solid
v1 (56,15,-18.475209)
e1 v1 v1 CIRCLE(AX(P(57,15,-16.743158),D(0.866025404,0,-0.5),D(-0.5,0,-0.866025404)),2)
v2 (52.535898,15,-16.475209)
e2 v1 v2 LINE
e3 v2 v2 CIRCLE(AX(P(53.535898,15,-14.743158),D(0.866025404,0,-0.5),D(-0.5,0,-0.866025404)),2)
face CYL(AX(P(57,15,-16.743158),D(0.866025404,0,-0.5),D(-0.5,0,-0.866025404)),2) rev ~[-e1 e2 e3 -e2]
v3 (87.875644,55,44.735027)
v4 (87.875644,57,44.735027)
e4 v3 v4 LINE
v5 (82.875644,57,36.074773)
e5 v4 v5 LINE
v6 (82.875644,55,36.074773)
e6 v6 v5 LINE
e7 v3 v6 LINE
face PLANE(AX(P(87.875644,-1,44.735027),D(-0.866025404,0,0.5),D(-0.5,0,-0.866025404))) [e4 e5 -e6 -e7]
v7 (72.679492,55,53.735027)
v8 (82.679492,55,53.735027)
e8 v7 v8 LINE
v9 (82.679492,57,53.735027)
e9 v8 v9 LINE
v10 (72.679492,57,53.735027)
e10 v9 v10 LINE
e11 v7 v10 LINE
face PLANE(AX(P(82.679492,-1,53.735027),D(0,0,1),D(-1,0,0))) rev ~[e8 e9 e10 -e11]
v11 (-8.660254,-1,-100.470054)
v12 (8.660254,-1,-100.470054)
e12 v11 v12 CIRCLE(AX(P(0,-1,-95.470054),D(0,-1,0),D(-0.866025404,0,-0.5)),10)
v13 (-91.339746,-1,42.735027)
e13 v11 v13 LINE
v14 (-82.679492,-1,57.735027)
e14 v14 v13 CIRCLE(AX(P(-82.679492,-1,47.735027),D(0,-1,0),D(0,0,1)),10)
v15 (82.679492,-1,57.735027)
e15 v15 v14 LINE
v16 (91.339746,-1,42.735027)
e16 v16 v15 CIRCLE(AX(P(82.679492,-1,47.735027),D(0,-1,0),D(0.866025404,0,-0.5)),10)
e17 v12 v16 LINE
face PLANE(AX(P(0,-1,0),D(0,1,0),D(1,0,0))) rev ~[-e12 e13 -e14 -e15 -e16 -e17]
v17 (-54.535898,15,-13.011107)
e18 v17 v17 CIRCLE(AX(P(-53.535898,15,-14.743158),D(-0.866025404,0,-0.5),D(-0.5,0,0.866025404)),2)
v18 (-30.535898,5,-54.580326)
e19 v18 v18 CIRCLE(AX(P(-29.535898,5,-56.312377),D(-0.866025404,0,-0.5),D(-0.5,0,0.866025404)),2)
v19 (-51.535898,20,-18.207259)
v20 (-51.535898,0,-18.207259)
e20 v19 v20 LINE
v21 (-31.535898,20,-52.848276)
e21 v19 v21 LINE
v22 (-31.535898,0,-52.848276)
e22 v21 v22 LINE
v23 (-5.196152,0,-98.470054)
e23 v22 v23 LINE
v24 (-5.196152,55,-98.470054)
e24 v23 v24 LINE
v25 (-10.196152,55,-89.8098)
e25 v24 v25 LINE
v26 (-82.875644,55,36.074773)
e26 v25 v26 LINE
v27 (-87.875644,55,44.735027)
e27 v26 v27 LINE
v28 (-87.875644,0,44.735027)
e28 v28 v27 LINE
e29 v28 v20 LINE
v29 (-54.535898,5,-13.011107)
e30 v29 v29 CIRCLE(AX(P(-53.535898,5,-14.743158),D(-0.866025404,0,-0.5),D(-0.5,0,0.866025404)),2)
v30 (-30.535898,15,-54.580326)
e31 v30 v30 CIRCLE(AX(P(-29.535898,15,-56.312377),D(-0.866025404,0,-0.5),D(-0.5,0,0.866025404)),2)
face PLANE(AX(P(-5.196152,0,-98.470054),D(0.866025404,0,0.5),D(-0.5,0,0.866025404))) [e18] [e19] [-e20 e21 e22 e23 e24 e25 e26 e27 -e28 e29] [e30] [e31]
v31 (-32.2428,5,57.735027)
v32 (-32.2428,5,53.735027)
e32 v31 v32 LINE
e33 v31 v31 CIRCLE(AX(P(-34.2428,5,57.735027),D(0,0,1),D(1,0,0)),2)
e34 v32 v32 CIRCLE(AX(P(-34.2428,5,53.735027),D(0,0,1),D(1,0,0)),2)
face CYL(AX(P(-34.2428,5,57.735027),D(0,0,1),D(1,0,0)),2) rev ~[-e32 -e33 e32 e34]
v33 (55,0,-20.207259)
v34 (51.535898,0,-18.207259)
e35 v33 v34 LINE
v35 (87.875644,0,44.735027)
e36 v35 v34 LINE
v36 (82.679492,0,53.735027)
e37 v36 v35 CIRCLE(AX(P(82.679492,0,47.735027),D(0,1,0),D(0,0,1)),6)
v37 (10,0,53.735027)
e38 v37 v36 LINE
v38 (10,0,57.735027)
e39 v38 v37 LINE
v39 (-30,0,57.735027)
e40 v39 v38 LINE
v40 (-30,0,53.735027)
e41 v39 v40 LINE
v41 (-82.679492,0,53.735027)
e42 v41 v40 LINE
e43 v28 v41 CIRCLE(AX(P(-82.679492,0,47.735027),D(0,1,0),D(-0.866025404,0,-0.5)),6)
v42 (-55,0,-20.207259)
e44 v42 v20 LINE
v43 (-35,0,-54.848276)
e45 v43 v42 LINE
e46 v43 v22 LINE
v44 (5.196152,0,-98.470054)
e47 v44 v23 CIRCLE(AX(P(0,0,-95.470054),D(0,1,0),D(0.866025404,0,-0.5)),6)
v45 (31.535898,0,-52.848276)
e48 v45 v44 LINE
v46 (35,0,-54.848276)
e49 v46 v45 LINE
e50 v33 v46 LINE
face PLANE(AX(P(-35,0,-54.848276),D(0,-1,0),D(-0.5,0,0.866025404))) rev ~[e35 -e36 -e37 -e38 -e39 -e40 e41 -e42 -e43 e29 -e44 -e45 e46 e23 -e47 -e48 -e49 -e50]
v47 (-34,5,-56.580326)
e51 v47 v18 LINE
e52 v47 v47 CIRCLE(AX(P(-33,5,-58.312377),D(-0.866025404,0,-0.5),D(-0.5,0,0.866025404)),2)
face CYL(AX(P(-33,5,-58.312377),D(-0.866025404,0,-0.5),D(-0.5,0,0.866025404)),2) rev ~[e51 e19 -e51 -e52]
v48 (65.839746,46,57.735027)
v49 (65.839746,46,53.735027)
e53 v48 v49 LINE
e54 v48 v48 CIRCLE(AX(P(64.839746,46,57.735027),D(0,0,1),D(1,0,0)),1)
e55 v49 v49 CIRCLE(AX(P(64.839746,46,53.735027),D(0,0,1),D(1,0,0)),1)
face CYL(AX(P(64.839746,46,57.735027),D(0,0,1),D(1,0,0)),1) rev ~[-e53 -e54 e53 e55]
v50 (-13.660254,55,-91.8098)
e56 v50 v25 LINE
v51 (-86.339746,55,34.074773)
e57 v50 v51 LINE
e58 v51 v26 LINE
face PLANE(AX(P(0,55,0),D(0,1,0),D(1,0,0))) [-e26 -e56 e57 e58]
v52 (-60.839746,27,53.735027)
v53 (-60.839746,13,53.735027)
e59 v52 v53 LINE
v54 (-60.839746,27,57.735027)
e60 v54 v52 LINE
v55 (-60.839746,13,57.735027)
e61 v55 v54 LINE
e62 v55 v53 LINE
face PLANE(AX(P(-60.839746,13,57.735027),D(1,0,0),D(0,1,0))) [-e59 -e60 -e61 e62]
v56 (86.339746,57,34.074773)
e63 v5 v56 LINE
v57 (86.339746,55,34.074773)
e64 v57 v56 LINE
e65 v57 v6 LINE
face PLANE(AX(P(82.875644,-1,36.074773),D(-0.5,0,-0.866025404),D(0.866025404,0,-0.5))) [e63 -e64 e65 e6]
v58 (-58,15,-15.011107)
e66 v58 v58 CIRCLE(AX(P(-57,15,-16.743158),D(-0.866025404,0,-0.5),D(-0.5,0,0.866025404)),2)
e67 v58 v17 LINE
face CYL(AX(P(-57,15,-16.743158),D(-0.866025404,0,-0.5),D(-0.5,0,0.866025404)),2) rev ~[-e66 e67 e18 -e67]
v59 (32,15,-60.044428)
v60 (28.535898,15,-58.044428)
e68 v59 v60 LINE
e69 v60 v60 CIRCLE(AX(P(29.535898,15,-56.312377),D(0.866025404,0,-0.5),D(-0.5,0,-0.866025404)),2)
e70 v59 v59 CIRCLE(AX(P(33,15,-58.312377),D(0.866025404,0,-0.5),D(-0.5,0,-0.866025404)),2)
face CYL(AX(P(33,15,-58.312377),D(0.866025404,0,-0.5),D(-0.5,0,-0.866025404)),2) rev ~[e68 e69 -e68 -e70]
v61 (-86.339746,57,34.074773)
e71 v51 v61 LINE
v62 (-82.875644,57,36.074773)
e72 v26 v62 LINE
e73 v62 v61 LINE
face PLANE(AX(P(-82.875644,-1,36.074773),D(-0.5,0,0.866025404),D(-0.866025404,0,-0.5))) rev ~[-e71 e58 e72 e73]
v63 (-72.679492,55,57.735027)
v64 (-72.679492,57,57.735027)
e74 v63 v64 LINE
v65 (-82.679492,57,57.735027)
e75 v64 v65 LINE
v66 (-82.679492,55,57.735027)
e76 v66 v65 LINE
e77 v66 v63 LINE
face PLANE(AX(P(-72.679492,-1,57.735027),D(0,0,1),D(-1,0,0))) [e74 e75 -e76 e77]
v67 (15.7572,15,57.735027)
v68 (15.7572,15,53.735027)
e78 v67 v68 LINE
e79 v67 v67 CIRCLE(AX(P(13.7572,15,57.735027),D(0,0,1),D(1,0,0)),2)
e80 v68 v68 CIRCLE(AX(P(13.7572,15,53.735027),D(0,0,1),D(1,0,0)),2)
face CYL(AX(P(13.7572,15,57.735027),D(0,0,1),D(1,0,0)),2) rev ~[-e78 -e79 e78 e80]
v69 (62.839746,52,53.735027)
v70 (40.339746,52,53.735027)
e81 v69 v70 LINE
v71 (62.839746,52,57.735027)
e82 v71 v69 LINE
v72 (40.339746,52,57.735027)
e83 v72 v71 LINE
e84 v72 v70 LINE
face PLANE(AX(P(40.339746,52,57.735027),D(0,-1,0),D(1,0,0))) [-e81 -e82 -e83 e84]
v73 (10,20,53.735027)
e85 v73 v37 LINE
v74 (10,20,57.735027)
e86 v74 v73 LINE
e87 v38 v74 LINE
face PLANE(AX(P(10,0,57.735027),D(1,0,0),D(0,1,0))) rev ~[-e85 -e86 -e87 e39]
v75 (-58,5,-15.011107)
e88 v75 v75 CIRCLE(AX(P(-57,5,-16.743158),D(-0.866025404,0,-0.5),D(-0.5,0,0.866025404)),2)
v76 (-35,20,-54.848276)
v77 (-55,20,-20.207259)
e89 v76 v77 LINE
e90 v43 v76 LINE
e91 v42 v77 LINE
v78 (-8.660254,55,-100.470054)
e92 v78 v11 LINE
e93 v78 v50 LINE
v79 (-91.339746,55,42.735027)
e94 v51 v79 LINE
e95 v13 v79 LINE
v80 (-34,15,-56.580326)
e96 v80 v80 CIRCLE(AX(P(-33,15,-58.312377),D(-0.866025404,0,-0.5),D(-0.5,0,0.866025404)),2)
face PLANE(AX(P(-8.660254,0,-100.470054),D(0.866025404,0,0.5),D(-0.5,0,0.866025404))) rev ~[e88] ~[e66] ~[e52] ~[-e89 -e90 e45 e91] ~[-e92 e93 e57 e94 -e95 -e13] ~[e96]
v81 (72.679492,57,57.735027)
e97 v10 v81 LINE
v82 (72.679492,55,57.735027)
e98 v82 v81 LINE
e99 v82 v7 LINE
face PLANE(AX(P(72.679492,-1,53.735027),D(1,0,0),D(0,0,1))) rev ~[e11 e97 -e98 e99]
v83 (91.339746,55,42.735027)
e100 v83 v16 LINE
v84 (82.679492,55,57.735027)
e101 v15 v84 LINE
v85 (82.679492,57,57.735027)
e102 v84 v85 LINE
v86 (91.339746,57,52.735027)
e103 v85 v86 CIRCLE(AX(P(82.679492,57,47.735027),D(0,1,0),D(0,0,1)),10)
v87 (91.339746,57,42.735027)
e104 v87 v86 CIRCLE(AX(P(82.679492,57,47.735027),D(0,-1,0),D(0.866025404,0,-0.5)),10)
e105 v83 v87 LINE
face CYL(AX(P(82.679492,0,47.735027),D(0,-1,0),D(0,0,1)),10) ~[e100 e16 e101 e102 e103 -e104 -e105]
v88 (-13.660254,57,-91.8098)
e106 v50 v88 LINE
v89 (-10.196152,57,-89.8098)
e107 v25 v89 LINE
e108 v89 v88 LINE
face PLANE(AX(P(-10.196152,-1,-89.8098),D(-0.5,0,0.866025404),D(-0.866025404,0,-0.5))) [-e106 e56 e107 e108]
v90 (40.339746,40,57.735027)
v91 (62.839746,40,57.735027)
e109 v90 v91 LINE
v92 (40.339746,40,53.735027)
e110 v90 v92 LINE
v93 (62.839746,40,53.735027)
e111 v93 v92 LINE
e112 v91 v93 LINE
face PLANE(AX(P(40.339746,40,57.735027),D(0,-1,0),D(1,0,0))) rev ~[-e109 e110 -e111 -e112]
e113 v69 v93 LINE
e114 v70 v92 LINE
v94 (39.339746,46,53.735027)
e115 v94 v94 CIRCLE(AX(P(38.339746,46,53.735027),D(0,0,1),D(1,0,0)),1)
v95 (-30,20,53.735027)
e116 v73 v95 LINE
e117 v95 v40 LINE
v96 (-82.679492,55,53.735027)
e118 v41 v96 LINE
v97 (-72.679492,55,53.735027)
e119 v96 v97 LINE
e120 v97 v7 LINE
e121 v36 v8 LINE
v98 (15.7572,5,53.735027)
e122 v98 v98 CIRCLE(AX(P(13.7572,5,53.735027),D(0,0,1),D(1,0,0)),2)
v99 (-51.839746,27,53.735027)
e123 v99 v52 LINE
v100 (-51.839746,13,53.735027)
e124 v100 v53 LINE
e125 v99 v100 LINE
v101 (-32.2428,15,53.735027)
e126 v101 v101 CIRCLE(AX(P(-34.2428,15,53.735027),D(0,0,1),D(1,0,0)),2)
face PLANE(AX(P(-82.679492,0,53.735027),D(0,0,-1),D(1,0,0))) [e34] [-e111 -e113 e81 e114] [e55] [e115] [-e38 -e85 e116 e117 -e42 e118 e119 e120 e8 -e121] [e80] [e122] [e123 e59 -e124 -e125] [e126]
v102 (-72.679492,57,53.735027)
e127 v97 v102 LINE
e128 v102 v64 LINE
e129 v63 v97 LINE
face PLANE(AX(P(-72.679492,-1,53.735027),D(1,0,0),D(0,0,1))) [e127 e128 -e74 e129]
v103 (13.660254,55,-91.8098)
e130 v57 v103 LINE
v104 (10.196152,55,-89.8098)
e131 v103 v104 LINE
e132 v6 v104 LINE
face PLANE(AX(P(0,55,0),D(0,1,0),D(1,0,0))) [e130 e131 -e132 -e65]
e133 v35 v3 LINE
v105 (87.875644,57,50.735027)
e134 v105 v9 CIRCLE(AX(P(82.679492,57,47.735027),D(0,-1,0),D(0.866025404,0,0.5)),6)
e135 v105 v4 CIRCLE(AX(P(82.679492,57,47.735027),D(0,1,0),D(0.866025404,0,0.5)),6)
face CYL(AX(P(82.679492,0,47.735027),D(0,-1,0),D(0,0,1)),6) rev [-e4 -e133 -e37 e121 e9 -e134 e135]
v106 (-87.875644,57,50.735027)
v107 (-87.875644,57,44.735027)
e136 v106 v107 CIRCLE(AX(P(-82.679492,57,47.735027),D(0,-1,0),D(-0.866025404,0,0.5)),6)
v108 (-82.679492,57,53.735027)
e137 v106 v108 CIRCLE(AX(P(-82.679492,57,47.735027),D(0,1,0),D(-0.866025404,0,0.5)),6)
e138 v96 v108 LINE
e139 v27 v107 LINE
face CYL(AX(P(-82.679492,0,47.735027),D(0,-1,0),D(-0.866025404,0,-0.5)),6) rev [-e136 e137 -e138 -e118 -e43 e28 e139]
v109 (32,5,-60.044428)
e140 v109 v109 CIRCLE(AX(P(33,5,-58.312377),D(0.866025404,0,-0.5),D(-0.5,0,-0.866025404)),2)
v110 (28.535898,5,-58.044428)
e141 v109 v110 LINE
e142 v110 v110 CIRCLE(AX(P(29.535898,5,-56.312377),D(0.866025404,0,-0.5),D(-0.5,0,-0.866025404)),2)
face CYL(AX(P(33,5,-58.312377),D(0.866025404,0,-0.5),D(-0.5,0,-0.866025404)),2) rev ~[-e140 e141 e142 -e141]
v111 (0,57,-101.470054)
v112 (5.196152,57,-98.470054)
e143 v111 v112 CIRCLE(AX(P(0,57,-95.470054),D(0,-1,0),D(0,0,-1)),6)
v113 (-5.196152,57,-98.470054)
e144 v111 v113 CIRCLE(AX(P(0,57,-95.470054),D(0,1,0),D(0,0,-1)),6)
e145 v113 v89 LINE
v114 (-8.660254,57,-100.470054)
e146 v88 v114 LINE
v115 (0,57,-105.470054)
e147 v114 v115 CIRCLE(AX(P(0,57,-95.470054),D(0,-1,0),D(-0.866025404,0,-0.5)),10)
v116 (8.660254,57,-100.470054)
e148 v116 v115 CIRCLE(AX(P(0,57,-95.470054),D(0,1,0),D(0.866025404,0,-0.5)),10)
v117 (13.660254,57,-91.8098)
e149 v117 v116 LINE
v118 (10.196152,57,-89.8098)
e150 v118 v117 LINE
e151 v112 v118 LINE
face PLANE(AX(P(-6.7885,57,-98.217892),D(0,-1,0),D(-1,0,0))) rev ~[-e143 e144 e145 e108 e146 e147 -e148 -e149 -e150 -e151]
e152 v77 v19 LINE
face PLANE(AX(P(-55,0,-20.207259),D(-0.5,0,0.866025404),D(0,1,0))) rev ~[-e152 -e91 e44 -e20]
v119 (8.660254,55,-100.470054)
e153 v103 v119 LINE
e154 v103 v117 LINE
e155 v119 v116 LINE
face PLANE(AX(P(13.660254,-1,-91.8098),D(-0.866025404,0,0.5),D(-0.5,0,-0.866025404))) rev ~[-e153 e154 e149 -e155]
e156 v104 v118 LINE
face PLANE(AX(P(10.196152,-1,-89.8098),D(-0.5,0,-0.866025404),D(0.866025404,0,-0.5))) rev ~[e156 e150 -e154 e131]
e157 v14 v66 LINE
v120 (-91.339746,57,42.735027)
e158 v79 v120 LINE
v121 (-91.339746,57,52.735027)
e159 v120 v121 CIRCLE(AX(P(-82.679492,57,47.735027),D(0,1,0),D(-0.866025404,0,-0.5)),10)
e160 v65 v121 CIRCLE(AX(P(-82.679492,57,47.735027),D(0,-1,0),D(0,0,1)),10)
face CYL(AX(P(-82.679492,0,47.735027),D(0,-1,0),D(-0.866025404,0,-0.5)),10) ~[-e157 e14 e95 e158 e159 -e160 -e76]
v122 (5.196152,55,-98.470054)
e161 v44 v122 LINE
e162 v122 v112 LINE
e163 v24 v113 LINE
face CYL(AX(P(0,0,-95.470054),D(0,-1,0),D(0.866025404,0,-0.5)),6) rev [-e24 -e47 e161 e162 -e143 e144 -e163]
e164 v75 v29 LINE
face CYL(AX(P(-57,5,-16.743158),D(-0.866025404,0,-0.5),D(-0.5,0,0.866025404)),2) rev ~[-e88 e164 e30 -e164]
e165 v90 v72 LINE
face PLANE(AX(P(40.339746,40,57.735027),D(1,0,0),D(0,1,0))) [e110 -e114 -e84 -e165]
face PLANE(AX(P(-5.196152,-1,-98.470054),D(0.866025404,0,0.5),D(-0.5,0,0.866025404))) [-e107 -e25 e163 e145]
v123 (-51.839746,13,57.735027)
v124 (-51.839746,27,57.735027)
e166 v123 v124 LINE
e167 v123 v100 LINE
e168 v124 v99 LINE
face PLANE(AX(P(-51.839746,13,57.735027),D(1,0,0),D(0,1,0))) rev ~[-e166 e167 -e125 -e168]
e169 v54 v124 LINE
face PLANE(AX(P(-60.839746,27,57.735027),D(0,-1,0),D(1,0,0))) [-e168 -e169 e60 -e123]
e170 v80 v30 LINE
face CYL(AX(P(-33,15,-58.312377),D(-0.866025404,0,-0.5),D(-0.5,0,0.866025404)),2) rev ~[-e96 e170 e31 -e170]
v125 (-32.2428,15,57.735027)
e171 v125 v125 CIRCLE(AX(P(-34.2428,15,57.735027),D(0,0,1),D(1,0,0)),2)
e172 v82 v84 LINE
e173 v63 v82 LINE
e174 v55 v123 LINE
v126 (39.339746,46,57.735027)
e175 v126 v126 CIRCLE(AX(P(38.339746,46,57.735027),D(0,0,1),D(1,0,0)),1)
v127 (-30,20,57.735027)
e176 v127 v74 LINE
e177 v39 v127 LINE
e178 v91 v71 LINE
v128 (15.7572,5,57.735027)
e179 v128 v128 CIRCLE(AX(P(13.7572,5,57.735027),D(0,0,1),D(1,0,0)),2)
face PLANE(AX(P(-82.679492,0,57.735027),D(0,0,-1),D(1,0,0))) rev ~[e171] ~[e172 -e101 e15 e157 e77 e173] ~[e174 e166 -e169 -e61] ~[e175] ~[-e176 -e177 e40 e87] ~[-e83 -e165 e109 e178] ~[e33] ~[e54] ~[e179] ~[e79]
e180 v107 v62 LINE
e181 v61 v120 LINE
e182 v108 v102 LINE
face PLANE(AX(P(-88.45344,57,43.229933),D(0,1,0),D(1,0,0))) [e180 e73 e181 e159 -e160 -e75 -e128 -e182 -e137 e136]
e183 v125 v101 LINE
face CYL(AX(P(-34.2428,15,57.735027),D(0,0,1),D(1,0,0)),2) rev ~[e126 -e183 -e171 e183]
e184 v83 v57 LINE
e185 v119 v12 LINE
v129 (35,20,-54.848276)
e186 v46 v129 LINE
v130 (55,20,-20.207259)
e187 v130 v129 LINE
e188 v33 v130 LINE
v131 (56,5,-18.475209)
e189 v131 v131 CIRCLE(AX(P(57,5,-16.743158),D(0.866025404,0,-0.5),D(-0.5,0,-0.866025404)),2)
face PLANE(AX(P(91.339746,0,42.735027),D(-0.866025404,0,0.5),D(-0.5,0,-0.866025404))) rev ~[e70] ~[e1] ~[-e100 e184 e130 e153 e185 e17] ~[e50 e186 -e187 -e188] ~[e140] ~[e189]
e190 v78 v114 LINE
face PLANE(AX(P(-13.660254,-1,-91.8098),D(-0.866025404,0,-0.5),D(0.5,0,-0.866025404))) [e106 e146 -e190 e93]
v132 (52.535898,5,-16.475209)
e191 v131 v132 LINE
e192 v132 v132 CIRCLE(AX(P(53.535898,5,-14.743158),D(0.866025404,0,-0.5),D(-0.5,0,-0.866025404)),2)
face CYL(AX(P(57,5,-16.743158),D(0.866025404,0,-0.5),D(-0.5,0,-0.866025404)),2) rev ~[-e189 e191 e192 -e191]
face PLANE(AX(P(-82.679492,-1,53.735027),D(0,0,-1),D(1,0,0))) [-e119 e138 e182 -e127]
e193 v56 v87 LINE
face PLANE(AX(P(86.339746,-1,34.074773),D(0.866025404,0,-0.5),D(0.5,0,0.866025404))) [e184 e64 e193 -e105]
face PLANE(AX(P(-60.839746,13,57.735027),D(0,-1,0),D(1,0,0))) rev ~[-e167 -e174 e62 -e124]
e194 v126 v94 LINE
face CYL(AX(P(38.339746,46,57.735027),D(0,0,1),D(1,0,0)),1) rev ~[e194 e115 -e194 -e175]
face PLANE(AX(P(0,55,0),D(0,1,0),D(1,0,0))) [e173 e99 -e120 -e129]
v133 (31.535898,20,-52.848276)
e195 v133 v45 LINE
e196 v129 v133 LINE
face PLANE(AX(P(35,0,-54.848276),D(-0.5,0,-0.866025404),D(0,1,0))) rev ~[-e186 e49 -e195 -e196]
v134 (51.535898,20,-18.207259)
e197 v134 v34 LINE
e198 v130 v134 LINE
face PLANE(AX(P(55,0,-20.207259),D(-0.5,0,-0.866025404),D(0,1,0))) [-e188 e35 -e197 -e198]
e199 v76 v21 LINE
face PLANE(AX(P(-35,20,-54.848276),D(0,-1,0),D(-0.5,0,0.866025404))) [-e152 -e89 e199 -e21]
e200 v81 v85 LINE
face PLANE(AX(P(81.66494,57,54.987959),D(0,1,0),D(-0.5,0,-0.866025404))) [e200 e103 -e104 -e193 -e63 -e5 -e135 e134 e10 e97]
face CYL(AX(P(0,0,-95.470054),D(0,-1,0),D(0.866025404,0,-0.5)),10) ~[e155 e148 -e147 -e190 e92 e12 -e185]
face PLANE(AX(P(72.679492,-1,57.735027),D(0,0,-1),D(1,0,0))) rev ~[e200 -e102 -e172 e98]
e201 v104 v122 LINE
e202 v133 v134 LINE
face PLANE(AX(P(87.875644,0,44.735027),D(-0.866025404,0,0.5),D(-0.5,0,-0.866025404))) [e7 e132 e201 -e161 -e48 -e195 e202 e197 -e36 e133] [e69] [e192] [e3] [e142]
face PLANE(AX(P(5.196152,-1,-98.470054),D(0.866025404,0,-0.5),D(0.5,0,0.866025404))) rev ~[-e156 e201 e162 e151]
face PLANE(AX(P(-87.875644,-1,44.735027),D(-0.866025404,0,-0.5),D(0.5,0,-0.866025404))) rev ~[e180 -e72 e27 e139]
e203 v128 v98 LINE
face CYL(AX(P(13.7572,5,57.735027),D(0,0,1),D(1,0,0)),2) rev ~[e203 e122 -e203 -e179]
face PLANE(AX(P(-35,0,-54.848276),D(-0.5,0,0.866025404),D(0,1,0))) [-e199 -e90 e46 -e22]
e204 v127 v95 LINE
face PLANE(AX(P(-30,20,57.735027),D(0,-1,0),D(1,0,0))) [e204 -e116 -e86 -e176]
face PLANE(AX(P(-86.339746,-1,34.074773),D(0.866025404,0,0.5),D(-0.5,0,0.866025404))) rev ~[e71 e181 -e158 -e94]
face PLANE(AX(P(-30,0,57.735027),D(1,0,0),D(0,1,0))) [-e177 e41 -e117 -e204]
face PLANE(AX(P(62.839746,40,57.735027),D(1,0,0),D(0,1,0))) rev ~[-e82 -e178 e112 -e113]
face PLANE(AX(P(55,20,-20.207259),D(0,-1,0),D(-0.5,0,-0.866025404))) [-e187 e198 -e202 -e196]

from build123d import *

# Parameters (mm, degrees)
BOSS_EXTRUDE1_DEPTH = 1
BOSS_EXTRUDE2_DEPTH = 55
BOSS_EXTRUDE3_START = -56
BOSS_EXTRUDE3_DEPTH = 58
SKETCH3_R           = 2
SKETCH3_R_2         = 1
SKETCH3_W           = 40
SKETCH3_H           = 20
SKETCH3_W_2         = 22.5
SKETCH3_H_2         = 12
SKETCH3_W_3         = 9
SKETCH3_H_3         = 14
BACK_DEPTH          = 10
SKETCH6_R           = 2
SKETCH6_W           = 40
SKETCH6_H           = 20
CUT_EXTRUDE3_DEPTH  = 10
SKETCH7_R           = 2
SKETCH7_W           = 40
SKETCH7_H           = 20
CUT_EXTRUDE4_DEPTH  = 10
CIRPATTERN1_COUNT   = 3


with BuildPart() as part:
    # Sketch2 → Boss-Extrude1 (new body)
    with BuildSketch(Plane(origin=(0, 0, 0), x_dir=(1, 0, 0), z_dir=(0, 1, 0))):
        with BuildLine():
            Line((-8.660254038, 100.470053838), (-91.339745962, -42.735026919))
            ThreePointArc((-91.339745962, -42.735026919), (-91.339745962, -52.735026919), (-82.679491924, -57.735026919))
            Line((-82.679491924, -57.735026919), (82.679491924, -57.735026919))
            ThreePointArc((82.679491924, -57.735026919), (91.339745962, -52.735026919), (91.339745962, -42.735026919))
            Line((91.339745962, -42.735026919), (8.660254038, 100.470053838))
            ThreePointArc((8.660254038, 100.470053838), (0, 105.470053838), (-8.660254038, 100.470053838))
        make_face()
    extrude(amount=-BOSS_EXTRUDE1_DEPTH)

    # Sketch2<6> → Boss-Extrude2 (add)
    with BuildSketch(Plane(origin=(0, 0, 0), x_dir=(1, 0, 0), z_dir=(0, 1, 0))):
        with BuildLine():
            Line((-8.660254038, 100.470053838), (-91.339745962, -42.735026919))
            ThreePointArc((-91.339745962, -42.735026919), (-91.339745962, -52.735026919), (-82.679491924, -57.735026919))
            Line((-82.679491924, -57.735026919), (82.679491924, -57.735026919))
            ThreePointArc((82.679491924, -57.735026919), (91.339745962, -52.735026919), (91.339745962, -42.735026919))
            Line((91.339745962, -42.735026919), (8.660254038, 100.470053838))
            ThreePointArc((8.660254038, 100.470053838), (0, 105.470053838), (-8.660254038, 100.470053838))
        make_face()
        with BuildLine():
            Line((-5.196152423, 98.470053838), (-87.875644347, -44.735026919))
            ThreePointArc((-87.875644347, -44.735026919), (-87.875644347, -50.735026919), (-82.679491924, -53.735026919))
            Line((-82.679491924, -53.735026919), (82.679491924, -53.735026919))
            ThreePointArc((82.679491924, -53.735026919), (87.875644347, -50.735026919), (87.875644347, -44.735026919))
            Line((87.875644347, -44.735026919), (5.196152423, 98.470053838))
            ThreePointArc((5.196152423, 98.470053838), (0, 101.470053838), (-5.196152423, 98.470053838))
        make_face(mode=Mode.SUBTRACT)
    extrude(amount=BOSS_EXTRUDE2_DEPTH)

    # Sketch4 → Boss-Extrude3 (add)
    with BuildSketch(Plane(origin=(0, 55, 0), x_dir=(1, 0, 0), z_dir=(0, 1, 0)).offset(BOSS_EXTRUDE3_START)):
        with BuildLine():
            Line((0, 105.470053838), (0, 101.470053838))
            ThreePointArc((0, 101.470053838), (-3, 100.666206261), (-5.196152423, 98.470053838))
            Line((-5.196152423, 98.470053838), (-10.196152423, 89.8097998))
            Line((-10.196152423, 89.8097998), (-13.660254038, 91.8097998))
            Line((-13.660254038, 91.8097998), (-8.660254038, 100.470053838))
            ThreePointArc((-8.660254038, 100.470053838), (-5, 104.130307876), (0, 105.470053838))
        make_face()
        with BuildLine():
            Line((-82.875644347, -36.074772881), (-86.339745962, -34.074772881))
            Line((-86.339745962, -34.074772881), (-91.339745962, -42.735026919))
            ThreePointArc((-91.339745962, -42.735026919), (-92.679491924, -47.735026919), (-91.339745962, -52.735026919))
            Line((-91.339745962, -52.735026919), (-87.875644347, -50.735026919))
            ThreePointArc((-87.875644347, -50.735026919), (-88.679491924, -47.735026919), (-87.875644347, -44.735026919))
            Line((-87.875644347, -44.735026919), (-82.875644347, -36.074772881))
        make_face()
    boss_extrude3 = extrude(amount=BOSS_EXTRUDE3_DEPTH)

    # Sketch3 → Back (cut)
    with BuildSketch(Plane.XY.offset(57.735026919)):
        with Locations((-34.24280037, 15)):
            Circle(SKETCH3_R)
        with Locations((-34.24280037, 5)):
            Circle(SKETCH3_R)
        with Locations((13.75719963, 15)):
            Circle(SKETCH3_R)
        with Locations((13.75719963, 5)):
            Circle(SKETCH3_R)
        with Locations((38.339745962, 46)):
            Circle(SKETCH3_R_2)
        with Locations((64.839745962, 46)):
            Circle(SKETCH3_R_2)
        with Locations((-10, 10)):
            Rectangle(SKETCH3_W, SKETCH3_H)
        with Locations((51.589745962, 46)):
            Rectangle(SKETCH3_W_2, SKETCH3_H_2)
        with Locations((-56.339745962, 20)):
            Rectangle(SKETCH3_W_3, SKETCH3_H_3)
    extrude(amount=-BACK_DEPTH, mode=Mode.SUBTRACT)

    # Sketch6 → Cut-Extrude3 (cut)
    with BuildSketch(Plane(origin=(50, 0, -28.867513459), x_dir=(-0.5, 0, -0.866025404), z_dir=(0.866025404, 0, -0.5))):
        with Locations((-14, 15)):
            Circle(SKETCH6_R)
        with Locations((-14, 5)):
            Circle(SKETCH6_R)
        with Locations((34, 15)):
            Circle(SKETCH6_R)
        with Locations((34, 5)):
            Circle(SKETCH6_R)
        with Locations((10, 10)):
            Rectangle(SKETCH6_W, SKETCH6_H)
    extrude(amount=-CUT_EXTRUDE3_DEPTH, mode=Mode.SUBTRACT)

    # Sketch7 → Cut-Extrude4 (cut)
    with BuildSketch(Plane(origin=(-50, 0, -28.867513459), x_dir=(-0.5, 0, 0.866025404), z_dir=(-0.866025404, 0, -0.5))):
        with Locations((-34, 15)):
            Circle(SKETCH7_R)
        with Locations((-34, 5)):
            Circle(SKETCH7_R)
        with Locations((14, 15)):
            Circle(SKETCH7_R)
        with Locations((14, 5)):
            Circle(SKETCH7_R)
        with Locations((-10, 10)):
            Rectangle(SKETCH7_W, SKETCH7_H)
    extrude(amount=-CUT_EXTRUDE4_DEPTH, mode=Mode.SUBTRACT)

    # CirPattern1: Boss-Extrude3 ×3 about axis
    cirpattern1_axis = Axis((0, 0, 0), (0, 1, 0))
    for i in range(1, CIRPATTERN1_COUNT):
        add(boss_extrude3.rotate(cirpattern1_axis, i * 360 / CIRPATTERN1_COUNT))


solid = part.part
